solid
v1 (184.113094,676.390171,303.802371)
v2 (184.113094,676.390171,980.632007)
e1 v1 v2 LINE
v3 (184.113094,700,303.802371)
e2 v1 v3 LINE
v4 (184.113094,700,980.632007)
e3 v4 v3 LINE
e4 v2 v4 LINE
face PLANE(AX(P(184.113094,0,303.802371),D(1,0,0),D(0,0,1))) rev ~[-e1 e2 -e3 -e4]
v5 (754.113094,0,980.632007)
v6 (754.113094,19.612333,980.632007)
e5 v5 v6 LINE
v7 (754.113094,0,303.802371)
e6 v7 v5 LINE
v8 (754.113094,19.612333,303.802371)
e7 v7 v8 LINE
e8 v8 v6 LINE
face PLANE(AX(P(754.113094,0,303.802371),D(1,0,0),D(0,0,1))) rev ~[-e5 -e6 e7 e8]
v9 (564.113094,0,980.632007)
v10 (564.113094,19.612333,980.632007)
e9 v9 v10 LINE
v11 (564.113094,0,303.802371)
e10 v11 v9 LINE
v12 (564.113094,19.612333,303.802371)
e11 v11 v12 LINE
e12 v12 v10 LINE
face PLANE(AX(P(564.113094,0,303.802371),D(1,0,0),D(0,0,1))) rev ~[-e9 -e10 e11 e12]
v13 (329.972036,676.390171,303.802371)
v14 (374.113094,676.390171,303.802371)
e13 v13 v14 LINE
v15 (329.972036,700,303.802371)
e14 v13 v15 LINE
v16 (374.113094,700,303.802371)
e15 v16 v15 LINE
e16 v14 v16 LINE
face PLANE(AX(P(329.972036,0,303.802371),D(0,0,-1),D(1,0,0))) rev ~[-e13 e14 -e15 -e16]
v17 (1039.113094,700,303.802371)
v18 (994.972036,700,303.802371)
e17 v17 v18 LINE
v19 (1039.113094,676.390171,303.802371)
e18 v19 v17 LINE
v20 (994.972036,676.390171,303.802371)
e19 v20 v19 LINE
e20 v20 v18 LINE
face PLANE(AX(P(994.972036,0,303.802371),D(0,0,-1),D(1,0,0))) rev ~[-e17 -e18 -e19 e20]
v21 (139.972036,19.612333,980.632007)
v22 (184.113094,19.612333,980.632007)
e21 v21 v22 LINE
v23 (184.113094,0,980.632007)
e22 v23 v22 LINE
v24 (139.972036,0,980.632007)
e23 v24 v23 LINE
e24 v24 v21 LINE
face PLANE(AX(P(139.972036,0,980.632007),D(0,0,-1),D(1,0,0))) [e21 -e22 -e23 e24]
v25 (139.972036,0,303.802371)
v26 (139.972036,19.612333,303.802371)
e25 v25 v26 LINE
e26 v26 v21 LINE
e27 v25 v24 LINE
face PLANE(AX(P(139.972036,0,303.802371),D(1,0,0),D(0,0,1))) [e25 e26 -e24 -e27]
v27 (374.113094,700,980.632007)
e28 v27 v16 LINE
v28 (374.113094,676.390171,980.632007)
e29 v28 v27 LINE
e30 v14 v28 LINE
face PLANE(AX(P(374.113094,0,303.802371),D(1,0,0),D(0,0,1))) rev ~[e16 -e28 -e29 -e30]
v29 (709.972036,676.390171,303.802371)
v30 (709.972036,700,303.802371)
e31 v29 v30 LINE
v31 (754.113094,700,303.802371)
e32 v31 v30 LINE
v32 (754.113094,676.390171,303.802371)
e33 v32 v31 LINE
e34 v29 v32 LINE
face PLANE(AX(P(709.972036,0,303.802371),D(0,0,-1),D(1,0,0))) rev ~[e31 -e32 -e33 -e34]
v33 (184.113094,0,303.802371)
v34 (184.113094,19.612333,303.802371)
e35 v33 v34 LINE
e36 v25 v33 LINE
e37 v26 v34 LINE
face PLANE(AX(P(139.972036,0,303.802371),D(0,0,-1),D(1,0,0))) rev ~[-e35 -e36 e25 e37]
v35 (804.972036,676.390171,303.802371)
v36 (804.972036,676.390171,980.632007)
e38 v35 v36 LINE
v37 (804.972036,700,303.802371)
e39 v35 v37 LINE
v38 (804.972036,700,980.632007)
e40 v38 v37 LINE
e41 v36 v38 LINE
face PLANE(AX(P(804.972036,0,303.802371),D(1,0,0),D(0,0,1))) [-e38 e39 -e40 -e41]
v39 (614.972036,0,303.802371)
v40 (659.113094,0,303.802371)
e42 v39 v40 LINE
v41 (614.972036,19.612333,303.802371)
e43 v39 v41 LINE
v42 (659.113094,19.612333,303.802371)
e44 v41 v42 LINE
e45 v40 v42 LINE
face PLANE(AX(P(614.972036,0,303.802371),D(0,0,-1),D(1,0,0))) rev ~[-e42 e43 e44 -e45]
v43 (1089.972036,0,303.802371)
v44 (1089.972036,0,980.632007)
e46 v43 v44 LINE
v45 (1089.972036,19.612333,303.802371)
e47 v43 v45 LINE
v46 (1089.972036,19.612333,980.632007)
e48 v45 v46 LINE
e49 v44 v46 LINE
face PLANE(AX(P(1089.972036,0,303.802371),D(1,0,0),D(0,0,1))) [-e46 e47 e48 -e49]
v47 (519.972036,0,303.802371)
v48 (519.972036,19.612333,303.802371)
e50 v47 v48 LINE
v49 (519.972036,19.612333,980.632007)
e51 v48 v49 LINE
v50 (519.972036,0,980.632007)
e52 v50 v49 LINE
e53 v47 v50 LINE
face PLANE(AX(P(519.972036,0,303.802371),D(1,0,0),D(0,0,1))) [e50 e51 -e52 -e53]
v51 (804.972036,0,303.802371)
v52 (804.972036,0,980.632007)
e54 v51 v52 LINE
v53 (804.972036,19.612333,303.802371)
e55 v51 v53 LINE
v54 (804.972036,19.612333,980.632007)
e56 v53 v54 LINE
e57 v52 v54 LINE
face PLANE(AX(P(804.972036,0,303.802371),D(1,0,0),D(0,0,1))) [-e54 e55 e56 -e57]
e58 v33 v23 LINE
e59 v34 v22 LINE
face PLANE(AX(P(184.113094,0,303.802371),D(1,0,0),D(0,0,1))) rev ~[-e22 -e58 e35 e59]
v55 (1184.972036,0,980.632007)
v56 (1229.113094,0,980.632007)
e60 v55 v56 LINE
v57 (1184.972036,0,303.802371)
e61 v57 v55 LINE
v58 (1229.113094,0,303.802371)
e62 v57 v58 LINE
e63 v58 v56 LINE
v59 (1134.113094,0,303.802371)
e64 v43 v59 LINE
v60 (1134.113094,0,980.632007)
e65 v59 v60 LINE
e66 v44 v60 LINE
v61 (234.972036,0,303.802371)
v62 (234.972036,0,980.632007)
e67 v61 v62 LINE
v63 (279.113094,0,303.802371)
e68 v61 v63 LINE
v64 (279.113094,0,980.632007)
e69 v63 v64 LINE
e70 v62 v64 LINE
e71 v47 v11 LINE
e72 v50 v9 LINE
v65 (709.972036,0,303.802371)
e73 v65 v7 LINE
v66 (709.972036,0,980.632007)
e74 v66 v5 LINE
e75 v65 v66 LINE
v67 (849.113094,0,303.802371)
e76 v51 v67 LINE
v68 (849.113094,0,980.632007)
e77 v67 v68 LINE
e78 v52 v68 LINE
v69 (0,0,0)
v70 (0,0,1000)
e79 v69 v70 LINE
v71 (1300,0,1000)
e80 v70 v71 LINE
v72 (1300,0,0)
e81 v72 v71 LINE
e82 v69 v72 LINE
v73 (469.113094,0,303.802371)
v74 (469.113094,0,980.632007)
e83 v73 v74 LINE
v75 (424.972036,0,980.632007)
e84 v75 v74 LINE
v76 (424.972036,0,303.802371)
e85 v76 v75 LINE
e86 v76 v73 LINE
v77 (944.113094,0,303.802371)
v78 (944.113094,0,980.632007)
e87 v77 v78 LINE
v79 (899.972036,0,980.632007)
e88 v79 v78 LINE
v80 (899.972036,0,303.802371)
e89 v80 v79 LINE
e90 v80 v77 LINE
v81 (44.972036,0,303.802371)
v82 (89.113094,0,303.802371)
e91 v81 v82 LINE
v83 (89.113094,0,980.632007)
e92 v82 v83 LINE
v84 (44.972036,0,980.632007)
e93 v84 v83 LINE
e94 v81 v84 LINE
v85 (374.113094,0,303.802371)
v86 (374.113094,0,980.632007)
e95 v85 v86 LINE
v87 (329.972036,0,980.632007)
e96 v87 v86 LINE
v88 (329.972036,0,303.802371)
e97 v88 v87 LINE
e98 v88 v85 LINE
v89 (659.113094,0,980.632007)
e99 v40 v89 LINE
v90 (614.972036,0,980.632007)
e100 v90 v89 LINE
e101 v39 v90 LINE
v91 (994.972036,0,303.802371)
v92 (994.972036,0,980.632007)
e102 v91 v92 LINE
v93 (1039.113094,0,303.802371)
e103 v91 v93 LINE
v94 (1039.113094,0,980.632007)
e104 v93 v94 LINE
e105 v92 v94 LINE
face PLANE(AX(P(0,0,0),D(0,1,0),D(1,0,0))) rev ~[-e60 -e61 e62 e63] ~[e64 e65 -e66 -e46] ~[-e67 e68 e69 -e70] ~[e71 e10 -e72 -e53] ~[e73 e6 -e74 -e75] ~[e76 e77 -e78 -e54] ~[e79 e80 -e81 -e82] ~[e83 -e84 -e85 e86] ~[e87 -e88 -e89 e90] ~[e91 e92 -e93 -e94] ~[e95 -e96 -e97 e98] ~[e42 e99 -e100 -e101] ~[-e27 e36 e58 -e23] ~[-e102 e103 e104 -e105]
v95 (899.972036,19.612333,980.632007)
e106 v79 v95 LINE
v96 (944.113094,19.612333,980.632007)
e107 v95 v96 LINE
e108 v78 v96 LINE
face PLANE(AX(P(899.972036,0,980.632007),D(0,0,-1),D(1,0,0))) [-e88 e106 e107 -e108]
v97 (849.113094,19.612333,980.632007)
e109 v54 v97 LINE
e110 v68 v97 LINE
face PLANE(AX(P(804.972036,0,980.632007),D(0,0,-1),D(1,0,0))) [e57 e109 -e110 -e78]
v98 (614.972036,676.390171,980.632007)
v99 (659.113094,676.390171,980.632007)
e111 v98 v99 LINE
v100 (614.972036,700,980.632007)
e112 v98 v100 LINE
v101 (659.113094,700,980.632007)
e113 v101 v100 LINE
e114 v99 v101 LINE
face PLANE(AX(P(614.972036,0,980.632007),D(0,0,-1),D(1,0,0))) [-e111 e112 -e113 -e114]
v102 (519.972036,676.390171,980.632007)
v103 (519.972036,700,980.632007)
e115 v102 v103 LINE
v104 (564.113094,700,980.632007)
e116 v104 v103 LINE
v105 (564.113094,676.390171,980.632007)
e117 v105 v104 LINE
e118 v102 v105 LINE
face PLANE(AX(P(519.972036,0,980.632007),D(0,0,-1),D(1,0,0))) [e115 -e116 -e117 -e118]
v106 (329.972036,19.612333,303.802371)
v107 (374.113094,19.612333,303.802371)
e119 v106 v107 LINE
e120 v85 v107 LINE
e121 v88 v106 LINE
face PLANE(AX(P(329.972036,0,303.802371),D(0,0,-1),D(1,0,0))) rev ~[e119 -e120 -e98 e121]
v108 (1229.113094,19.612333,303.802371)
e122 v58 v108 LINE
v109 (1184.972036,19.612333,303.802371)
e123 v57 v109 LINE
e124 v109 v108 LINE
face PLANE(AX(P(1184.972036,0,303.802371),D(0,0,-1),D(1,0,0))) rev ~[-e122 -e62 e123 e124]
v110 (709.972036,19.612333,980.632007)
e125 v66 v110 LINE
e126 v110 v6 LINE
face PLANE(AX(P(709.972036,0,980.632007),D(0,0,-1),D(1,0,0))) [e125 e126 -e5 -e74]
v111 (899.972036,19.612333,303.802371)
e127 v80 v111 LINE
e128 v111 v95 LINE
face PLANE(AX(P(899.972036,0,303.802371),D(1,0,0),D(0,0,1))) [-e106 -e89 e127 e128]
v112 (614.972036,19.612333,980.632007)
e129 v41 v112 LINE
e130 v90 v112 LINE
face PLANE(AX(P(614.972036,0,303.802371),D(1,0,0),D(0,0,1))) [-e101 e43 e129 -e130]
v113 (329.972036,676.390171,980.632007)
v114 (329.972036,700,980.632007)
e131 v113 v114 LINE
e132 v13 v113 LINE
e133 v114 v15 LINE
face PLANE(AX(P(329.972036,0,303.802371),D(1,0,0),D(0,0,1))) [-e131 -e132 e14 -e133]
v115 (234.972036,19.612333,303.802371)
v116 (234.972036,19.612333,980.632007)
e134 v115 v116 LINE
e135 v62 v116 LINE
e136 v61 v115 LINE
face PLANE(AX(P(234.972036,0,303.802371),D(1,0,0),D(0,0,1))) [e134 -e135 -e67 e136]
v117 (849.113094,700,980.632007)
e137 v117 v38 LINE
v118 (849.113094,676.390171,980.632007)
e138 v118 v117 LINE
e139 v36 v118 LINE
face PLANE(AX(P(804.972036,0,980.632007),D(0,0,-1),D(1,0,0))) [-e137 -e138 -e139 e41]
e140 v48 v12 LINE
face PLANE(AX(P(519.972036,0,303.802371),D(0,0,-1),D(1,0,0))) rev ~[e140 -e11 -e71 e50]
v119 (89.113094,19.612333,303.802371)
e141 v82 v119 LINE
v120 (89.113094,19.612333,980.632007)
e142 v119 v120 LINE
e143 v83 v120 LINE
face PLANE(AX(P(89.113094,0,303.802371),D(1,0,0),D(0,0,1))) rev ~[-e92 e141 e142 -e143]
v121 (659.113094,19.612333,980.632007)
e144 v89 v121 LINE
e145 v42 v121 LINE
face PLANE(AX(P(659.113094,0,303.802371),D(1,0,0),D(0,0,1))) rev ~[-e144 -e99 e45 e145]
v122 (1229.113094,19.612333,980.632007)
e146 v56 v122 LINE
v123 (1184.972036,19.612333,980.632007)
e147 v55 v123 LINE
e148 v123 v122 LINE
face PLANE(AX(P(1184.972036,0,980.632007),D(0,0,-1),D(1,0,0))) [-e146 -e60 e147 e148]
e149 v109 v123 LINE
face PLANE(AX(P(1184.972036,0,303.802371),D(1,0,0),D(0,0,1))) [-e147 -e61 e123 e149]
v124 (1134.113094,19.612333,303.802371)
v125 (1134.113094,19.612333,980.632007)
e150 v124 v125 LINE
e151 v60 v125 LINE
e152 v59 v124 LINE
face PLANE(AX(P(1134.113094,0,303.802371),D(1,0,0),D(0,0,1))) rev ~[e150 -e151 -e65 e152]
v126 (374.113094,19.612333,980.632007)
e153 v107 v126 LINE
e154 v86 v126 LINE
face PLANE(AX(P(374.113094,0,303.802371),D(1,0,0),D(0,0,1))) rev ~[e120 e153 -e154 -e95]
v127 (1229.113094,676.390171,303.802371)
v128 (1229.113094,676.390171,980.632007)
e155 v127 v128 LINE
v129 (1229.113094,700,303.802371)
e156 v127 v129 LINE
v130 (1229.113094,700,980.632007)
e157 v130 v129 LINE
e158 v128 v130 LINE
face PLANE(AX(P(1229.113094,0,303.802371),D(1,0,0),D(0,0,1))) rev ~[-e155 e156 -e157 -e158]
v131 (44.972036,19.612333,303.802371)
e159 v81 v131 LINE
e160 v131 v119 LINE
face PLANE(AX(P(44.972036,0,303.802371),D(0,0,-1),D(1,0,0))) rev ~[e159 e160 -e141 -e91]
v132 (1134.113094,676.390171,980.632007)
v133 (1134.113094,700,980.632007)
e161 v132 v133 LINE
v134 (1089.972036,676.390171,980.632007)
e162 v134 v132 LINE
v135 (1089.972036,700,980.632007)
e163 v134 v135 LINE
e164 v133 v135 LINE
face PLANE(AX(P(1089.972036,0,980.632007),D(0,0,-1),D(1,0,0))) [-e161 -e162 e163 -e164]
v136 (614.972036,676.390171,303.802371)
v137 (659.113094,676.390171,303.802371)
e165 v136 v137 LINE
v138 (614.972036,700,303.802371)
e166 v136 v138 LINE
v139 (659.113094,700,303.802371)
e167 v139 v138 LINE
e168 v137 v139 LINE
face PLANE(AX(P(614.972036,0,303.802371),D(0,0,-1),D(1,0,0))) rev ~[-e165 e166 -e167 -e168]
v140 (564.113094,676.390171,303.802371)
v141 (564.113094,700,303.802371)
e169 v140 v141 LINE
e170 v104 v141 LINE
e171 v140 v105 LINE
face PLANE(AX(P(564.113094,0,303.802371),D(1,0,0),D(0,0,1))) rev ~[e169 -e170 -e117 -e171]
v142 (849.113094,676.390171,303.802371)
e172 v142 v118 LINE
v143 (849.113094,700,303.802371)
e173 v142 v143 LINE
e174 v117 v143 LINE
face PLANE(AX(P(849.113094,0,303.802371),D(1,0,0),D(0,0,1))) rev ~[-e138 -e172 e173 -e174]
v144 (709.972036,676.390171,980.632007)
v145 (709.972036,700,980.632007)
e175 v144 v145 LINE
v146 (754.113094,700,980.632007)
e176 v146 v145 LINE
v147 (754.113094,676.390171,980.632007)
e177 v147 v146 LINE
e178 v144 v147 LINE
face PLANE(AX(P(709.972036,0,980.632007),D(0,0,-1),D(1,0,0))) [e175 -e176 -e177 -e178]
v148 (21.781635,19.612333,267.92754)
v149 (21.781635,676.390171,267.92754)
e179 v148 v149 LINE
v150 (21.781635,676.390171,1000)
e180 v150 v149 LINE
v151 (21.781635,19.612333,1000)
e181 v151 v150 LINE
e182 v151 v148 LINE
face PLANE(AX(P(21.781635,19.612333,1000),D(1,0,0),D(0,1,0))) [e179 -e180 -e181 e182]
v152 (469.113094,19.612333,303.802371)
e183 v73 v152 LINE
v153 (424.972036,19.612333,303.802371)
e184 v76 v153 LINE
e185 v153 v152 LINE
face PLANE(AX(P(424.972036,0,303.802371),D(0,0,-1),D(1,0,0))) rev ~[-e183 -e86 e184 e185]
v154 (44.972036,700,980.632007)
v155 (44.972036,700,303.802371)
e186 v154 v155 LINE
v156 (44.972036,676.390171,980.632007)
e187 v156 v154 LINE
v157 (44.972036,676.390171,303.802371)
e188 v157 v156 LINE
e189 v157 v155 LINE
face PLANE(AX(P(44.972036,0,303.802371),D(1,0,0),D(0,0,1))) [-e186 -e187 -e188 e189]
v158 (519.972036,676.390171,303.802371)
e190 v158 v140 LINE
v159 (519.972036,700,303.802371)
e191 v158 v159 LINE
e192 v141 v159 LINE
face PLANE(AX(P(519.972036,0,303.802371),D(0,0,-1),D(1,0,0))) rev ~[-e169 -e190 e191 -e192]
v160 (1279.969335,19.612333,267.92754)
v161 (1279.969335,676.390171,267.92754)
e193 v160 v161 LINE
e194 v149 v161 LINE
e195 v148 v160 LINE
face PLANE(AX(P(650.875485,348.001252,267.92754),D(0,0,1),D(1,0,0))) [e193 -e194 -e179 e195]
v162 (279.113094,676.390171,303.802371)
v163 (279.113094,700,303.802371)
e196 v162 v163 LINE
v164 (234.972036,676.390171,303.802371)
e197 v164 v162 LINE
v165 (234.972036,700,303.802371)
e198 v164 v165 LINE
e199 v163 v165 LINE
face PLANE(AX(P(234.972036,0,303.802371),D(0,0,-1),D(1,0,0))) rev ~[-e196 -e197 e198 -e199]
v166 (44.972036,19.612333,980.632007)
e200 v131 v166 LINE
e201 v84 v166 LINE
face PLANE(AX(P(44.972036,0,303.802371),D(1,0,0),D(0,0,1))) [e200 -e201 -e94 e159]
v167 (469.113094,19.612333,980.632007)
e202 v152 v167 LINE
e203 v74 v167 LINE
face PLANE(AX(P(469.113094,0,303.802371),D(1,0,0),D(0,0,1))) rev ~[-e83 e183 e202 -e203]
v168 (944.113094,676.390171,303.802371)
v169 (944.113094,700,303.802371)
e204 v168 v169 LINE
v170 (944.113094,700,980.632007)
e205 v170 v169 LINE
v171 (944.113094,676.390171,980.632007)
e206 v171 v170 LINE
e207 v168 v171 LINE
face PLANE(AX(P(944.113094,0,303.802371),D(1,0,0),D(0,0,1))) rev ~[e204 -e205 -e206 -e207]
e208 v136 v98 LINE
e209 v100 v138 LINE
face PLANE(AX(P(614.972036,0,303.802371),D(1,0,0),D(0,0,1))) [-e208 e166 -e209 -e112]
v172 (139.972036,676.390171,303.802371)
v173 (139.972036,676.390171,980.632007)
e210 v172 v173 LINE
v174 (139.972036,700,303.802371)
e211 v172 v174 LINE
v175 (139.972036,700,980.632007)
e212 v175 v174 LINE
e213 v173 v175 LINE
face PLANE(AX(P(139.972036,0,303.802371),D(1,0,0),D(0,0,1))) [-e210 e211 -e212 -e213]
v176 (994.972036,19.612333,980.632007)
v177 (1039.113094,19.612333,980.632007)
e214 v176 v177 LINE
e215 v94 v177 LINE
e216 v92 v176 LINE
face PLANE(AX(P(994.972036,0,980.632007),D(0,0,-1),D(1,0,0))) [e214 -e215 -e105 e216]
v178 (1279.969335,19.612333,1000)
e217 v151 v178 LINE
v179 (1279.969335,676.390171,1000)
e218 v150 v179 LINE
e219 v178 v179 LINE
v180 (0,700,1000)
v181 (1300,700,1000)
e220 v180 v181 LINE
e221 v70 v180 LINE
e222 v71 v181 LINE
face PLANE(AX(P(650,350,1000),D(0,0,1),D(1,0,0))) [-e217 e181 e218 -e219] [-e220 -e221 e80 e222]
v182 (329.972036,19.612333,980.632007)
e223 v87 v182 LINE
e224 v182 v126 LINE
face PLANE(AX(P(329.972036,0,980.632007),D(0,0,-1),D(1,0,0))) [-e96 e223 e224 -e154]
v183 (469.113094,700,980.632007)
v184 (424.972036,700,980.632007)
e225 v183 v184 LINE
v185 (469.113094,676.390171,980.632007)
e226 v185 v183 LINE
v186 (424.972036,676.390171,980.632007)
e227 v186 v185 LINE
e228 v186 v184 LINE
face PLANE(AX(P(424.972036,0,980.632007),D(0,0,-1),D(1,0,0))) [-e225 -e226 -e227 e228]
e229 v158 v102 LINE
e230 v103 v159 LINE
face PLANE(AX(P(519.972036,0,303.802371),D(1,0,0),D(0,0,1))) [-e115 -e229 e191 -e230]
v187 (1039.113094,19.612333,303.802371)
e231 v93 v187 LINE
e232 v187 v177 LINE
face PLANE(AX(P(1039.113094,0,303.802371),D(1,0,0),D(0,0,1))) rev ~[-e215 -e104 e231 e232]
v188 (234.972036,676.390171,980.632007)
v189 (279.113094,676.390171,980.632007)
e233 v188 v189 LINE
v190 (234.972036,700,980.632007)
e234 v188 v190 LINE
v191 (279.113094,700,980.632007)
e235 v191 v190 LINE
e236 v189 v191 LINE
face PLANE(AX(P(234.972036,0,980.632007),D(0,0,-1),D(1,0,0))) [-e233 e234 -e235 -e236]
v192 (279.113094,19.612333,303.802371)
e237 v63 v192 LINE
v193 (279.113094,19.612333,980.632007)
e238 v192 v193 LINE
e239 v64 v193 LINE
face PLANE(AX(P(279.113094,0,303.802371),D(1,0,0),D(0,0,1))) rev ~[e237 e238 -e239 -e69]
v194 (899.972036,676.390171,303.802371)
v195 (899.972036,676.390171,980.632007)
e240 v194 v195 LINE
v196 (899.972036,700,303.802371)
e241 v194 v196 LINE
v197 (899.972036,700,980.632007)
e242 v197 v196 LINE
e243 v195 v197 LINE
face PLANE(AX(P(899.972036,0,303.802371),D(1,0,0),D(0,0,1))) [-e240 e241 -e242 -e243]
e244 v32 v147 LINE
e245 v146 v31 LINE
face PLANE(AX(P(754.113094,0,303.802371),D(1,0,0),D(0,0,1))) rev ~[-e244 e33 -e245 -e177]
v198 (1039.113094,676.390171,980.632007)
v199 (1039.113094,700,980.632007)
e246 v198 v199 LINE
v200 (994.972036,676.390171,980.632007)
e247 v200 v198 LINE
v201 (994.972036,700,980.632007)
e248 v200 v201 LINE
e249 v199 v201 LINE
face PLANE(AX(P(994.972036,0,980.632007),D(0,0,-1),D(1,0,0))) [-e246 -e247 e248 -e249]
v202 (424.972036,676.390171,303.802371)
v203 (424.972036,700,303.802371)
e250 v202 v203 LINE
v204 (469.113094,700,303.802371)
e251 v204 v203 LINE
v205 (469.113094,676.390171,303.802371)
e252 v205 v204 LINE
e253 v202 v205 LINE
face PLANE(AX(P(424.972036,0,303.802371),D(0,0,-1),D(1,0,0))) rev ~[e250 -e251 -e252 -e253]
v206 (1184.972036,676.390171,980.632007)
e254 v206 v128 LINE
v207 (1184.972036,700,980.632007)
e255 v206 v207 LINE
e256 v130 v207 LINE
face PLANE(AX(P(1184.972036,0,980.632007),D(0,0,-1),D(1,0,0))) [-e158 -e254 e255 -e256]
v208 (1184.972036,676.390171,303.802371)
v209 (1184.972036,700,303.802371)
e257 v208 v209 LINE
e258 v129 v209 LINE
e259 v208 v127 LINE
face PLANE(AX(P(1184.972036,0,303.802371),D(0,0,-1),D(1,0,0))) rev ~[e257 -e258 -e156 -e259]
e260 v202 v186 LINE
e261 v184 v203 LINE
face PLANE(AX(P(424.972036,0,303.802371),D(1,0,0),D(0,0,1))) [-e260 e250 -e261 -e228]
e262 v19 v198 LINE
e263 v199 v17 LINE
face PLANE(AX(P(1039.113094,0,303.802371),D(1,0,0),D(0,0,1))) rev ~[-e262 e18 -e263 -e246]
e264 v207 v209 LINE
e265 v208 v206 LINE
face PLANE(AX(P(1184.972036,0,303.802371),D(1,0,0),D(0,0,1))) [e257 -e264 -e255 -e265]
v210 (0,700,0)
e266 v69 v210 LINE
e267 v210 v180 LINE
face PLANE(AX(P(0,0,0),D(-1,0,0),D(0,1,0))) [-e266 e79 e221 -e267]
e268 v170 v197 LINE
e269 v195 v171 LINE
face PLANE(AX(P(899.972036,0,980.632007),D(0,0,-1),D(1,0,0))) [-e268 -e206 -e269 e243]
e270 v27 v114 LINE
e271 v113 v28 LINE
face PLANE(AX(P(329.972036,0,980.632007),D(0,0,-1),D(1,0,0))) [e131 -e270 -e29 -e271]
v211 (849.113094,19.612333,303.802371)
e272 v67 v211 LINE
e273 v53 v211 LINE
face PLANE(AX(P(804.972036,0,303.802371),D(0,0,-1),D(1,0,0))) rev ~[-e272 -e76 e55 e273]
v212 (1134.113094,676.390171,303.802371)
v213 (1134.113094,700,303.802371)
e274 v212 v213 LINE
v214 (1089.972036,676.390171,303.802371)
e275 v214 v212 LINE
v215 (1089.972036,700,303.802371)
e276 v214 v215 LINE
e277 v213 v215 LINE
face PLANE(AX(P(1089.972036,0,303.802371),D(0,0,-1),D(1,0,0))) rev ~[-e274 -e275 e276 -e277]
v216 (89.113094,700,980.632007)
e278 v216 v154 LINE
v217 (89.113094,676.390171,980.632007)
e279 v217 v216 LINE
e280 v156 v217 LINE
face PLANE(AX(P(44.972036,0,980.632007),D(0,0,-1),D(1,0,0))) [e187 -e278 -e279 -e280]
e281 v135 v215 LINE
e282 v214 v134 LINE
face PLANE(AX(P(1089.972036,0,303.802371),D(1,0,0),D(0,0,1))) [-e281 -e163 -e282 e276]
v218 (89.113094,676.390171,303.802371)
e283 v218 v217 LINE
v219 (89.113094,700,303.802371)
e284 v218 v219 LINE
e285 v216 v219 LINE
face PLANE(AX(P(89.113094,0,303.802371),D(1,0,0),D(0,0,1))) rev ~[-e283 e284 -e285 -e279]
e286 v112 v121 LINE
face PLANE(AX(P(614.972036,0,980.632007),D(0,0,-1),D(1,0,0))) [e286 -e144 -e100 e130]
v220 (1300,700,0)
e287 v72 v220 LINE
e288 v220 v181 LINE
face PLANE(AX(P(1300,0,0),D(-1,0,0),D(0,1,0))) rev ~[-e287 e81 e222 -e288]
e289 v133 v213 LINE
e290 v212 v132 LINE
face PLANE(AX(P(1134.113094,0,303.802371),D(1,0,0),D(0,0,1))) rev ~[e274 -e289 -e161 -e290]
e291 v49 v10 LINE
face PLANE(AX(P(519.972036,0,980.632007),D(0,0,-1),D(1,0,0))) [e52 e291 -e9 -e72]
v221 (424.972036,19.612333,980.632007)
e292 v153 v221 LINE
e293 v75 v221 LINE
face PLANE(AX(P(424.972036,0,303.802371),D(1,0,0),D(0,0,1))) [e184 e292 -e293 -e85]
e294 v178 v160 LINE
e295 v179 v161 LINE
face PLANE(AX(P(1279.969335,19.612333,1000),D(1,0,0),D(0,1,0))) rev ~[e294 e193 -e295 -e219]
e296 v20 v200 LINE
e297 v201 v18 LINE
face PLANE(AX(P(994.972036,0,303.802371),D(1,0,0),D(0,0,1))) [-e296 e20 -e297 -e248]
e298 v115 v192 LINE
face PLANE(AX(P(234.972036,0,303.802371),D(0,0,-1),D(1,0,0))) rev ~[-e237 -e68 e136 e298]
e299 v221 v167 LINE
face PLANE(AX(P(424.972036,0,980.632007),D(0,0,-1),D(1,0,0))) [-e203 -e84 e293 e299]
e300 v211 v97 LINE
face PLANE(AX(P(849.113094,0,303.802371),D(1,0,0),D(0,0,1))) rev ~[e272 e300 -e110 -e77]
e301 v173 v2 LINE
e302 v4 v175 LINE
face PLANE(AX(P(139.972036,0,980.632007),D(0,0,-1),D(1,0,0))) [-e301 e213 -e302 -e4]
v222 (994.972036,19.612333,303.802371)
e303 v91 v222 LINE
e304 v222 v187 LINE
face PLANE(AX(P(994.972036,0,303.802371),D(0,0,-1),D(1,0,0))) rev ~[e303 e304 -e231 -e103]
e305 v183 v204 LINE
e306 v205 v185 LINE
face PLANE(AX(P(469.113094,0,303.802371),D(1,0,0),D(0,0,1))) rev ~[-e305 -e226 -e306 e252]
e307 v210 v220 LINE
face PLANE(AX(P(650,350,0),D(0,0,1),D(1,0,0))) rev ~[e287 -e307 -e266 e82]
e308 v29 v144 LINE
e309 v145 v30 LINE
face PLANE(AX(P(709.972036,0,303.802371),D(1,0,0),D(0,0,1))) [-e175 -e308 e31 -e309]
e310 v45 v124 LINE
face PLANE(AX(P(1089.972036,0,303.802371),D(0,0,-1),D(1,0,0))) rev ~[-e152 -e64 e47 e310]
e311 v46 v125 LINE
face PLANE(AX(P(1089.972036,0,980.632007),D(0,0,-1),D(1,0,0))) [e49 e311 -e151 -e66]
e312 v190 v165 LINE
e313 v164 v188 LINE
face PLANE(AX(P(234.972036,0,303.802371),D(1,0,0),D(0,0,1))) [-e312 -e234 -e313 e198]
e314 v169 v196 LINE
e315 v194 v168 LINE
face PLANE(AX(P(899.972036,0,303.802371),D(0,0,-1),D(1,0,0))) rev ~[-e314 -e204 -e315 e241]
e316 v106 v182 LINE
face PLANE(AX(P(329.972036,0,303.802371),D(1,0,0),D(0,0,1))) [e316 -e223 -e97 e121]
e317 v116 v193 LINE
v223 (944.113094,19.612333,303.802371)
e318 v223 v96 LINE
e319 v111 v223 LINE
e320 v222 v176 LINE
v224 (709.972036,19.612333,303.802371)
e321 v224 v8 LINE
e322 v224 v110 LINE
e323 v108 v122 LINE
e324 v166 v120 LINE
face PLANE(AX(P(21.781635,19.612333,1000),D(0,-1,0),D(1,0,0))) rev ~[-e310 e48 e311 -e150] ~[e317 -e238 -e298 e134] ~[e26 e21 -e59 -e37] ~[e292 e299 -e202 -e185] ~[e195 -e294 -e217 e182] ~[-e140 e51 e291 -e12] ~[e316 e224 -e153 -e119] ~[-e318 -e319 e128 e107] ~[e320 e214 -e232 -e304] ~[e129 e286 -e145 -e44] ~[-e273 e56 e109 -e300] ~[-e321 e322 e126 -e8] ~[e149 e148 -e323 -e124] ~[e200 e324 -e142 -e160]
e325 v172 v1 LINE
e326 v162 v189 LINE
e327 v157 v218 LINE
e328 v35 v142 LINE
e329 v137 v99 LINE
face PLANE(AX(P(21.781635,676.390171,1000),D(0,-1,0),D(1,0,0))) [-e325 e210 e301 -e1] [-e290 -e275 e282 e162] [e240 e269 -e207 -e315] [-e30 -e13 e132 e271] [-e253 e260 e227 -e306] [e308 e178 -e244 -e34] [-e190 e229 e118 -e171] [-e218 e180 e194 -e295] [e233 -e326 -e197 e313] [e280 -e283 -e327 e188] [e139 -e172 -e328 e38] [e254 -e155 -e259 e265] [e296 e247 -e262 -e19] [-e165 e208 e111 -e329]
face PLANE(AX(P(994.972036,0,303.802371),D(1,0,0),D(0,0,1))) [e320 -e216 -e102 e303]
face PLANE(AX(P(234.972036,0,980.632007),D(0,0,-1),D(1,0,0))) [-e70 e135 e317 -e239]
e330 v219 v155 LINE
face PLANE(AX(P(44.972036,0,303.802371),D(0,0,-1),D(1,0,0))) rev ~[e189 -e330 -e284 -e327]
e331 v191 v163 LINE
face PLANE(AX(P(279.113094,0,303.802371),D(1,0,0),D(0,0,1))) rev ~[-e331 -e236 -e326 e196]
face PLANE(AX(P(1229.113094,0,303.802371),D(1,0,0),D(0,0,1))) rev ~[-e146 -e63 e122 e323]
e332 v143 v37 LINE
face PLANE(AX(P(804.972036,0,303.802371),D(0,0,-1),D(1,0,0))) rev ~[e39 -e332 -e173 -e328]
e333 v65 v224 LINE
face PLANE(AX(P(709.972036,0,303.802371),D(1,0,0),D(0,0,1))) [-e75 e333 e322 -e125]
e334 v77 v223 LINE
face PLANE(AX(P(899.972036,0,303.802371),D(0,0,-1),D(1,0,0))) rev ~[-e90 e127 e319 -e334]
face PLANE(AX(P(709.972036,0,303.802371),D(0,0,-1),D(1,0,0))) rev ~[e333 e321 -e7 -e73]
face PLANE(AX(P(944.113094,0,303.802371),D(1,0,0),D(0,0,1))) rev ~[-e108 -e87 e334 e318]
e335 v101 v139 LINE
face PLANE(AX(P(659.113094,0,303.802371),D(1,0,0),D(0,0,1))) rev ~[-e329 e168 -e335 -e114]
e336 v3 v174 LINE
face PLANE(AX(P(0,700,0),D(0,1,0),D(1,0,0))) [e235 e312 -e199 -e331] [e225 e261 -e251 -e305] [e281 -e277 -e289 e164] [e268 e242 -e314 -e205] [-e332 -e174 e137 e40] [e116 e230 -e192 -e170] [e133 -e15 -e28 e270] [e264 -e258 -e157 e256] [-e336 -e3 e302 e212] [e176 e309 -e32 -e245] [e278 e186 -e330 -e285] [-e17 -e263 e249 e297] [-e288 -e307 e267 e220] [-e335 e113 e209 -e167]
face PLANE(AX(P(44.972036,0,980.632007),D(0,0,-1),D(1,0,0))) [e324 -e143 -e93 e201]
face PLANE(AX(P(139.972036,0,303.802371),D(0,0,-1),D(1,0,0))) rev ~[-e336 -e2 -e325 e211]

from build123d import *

# Parameters (mm, degrees)
F0_W     = 1300
F0_H     = 700
F1_DEPTH = 1000
F2_W     = 1258.1877
F2_H     = 656.777838
F3_DEPTH = 732.07246
F4_W     = 44.141058
F4_H     = 676.829636
F5_DEPTH = 781.75431


with BuildPart() as f1:
    # F0 (on Top) → F1 (new body)
    with BuildSketch(Plane.XY):
        with Locations((650, 350)):
            Rectangle(F0_W, F0_H)
    extrude(amount=F1_DEPTH)

    # F2 (on face) → F3 (cut)
    with BuildSketch(Plane.XY.offset(1000)):
        with Locations((650.875485, 348.001252)):
            Rectangle(F2_W, F2_H)
    extrude(amount=-F3_DEPTH, mode=Mode.SUBTRACT)

    # F4 (on face) → F5 (cut)
    with BuildSketch(Plane.XZ):
        with Locations((67.042565, 642.217189)):
            Rectangle(F4_W, F4_H)
        with Locations((162.042565, 642.217189)):
            Rectangle(F4_W, F4_H)
        with Locations((257.042565, 642.217189)):
            Rectangle(F4_W, F4_H)
        with Locations((352.042565, 642.217189)):
            Rectangle(F4_W, F4_H)
        with Locations((447.042565, 642.217189)):
            Rectangle(F4_W, F4_H)
        with Locations((542.042565, 642.217189)):
            Rectangle(F4_W, F4_H)
        with Locations((637.042565, 642.217189)):
            Rectangle(F4_W, F4_H)
        with Locations((732.042565, 642.217189)):
            Rectangle(F4_W, F4_H)
        with Locations((827.042565, 642.217189)):
            Rectangle(F4_W, F4_H)
        with Locations((922.042565, 642.217189)):
            Rectangle(F4_W, F4_H)
        with Locations((1017.042565, 642.217189)):
            Rectangle(F4_W, F4_H)
        with Locations((1112.042565, 642.217189)):
            Rectangle(F4_W, F4_H)
        with Locations((1207.042565, 642.217189)):
            Rectangle(F4_W, F4_H)
    extrude(amount=-F5_DEPTH, mode=Mode.SUBTRACT)


solid = f1.part
